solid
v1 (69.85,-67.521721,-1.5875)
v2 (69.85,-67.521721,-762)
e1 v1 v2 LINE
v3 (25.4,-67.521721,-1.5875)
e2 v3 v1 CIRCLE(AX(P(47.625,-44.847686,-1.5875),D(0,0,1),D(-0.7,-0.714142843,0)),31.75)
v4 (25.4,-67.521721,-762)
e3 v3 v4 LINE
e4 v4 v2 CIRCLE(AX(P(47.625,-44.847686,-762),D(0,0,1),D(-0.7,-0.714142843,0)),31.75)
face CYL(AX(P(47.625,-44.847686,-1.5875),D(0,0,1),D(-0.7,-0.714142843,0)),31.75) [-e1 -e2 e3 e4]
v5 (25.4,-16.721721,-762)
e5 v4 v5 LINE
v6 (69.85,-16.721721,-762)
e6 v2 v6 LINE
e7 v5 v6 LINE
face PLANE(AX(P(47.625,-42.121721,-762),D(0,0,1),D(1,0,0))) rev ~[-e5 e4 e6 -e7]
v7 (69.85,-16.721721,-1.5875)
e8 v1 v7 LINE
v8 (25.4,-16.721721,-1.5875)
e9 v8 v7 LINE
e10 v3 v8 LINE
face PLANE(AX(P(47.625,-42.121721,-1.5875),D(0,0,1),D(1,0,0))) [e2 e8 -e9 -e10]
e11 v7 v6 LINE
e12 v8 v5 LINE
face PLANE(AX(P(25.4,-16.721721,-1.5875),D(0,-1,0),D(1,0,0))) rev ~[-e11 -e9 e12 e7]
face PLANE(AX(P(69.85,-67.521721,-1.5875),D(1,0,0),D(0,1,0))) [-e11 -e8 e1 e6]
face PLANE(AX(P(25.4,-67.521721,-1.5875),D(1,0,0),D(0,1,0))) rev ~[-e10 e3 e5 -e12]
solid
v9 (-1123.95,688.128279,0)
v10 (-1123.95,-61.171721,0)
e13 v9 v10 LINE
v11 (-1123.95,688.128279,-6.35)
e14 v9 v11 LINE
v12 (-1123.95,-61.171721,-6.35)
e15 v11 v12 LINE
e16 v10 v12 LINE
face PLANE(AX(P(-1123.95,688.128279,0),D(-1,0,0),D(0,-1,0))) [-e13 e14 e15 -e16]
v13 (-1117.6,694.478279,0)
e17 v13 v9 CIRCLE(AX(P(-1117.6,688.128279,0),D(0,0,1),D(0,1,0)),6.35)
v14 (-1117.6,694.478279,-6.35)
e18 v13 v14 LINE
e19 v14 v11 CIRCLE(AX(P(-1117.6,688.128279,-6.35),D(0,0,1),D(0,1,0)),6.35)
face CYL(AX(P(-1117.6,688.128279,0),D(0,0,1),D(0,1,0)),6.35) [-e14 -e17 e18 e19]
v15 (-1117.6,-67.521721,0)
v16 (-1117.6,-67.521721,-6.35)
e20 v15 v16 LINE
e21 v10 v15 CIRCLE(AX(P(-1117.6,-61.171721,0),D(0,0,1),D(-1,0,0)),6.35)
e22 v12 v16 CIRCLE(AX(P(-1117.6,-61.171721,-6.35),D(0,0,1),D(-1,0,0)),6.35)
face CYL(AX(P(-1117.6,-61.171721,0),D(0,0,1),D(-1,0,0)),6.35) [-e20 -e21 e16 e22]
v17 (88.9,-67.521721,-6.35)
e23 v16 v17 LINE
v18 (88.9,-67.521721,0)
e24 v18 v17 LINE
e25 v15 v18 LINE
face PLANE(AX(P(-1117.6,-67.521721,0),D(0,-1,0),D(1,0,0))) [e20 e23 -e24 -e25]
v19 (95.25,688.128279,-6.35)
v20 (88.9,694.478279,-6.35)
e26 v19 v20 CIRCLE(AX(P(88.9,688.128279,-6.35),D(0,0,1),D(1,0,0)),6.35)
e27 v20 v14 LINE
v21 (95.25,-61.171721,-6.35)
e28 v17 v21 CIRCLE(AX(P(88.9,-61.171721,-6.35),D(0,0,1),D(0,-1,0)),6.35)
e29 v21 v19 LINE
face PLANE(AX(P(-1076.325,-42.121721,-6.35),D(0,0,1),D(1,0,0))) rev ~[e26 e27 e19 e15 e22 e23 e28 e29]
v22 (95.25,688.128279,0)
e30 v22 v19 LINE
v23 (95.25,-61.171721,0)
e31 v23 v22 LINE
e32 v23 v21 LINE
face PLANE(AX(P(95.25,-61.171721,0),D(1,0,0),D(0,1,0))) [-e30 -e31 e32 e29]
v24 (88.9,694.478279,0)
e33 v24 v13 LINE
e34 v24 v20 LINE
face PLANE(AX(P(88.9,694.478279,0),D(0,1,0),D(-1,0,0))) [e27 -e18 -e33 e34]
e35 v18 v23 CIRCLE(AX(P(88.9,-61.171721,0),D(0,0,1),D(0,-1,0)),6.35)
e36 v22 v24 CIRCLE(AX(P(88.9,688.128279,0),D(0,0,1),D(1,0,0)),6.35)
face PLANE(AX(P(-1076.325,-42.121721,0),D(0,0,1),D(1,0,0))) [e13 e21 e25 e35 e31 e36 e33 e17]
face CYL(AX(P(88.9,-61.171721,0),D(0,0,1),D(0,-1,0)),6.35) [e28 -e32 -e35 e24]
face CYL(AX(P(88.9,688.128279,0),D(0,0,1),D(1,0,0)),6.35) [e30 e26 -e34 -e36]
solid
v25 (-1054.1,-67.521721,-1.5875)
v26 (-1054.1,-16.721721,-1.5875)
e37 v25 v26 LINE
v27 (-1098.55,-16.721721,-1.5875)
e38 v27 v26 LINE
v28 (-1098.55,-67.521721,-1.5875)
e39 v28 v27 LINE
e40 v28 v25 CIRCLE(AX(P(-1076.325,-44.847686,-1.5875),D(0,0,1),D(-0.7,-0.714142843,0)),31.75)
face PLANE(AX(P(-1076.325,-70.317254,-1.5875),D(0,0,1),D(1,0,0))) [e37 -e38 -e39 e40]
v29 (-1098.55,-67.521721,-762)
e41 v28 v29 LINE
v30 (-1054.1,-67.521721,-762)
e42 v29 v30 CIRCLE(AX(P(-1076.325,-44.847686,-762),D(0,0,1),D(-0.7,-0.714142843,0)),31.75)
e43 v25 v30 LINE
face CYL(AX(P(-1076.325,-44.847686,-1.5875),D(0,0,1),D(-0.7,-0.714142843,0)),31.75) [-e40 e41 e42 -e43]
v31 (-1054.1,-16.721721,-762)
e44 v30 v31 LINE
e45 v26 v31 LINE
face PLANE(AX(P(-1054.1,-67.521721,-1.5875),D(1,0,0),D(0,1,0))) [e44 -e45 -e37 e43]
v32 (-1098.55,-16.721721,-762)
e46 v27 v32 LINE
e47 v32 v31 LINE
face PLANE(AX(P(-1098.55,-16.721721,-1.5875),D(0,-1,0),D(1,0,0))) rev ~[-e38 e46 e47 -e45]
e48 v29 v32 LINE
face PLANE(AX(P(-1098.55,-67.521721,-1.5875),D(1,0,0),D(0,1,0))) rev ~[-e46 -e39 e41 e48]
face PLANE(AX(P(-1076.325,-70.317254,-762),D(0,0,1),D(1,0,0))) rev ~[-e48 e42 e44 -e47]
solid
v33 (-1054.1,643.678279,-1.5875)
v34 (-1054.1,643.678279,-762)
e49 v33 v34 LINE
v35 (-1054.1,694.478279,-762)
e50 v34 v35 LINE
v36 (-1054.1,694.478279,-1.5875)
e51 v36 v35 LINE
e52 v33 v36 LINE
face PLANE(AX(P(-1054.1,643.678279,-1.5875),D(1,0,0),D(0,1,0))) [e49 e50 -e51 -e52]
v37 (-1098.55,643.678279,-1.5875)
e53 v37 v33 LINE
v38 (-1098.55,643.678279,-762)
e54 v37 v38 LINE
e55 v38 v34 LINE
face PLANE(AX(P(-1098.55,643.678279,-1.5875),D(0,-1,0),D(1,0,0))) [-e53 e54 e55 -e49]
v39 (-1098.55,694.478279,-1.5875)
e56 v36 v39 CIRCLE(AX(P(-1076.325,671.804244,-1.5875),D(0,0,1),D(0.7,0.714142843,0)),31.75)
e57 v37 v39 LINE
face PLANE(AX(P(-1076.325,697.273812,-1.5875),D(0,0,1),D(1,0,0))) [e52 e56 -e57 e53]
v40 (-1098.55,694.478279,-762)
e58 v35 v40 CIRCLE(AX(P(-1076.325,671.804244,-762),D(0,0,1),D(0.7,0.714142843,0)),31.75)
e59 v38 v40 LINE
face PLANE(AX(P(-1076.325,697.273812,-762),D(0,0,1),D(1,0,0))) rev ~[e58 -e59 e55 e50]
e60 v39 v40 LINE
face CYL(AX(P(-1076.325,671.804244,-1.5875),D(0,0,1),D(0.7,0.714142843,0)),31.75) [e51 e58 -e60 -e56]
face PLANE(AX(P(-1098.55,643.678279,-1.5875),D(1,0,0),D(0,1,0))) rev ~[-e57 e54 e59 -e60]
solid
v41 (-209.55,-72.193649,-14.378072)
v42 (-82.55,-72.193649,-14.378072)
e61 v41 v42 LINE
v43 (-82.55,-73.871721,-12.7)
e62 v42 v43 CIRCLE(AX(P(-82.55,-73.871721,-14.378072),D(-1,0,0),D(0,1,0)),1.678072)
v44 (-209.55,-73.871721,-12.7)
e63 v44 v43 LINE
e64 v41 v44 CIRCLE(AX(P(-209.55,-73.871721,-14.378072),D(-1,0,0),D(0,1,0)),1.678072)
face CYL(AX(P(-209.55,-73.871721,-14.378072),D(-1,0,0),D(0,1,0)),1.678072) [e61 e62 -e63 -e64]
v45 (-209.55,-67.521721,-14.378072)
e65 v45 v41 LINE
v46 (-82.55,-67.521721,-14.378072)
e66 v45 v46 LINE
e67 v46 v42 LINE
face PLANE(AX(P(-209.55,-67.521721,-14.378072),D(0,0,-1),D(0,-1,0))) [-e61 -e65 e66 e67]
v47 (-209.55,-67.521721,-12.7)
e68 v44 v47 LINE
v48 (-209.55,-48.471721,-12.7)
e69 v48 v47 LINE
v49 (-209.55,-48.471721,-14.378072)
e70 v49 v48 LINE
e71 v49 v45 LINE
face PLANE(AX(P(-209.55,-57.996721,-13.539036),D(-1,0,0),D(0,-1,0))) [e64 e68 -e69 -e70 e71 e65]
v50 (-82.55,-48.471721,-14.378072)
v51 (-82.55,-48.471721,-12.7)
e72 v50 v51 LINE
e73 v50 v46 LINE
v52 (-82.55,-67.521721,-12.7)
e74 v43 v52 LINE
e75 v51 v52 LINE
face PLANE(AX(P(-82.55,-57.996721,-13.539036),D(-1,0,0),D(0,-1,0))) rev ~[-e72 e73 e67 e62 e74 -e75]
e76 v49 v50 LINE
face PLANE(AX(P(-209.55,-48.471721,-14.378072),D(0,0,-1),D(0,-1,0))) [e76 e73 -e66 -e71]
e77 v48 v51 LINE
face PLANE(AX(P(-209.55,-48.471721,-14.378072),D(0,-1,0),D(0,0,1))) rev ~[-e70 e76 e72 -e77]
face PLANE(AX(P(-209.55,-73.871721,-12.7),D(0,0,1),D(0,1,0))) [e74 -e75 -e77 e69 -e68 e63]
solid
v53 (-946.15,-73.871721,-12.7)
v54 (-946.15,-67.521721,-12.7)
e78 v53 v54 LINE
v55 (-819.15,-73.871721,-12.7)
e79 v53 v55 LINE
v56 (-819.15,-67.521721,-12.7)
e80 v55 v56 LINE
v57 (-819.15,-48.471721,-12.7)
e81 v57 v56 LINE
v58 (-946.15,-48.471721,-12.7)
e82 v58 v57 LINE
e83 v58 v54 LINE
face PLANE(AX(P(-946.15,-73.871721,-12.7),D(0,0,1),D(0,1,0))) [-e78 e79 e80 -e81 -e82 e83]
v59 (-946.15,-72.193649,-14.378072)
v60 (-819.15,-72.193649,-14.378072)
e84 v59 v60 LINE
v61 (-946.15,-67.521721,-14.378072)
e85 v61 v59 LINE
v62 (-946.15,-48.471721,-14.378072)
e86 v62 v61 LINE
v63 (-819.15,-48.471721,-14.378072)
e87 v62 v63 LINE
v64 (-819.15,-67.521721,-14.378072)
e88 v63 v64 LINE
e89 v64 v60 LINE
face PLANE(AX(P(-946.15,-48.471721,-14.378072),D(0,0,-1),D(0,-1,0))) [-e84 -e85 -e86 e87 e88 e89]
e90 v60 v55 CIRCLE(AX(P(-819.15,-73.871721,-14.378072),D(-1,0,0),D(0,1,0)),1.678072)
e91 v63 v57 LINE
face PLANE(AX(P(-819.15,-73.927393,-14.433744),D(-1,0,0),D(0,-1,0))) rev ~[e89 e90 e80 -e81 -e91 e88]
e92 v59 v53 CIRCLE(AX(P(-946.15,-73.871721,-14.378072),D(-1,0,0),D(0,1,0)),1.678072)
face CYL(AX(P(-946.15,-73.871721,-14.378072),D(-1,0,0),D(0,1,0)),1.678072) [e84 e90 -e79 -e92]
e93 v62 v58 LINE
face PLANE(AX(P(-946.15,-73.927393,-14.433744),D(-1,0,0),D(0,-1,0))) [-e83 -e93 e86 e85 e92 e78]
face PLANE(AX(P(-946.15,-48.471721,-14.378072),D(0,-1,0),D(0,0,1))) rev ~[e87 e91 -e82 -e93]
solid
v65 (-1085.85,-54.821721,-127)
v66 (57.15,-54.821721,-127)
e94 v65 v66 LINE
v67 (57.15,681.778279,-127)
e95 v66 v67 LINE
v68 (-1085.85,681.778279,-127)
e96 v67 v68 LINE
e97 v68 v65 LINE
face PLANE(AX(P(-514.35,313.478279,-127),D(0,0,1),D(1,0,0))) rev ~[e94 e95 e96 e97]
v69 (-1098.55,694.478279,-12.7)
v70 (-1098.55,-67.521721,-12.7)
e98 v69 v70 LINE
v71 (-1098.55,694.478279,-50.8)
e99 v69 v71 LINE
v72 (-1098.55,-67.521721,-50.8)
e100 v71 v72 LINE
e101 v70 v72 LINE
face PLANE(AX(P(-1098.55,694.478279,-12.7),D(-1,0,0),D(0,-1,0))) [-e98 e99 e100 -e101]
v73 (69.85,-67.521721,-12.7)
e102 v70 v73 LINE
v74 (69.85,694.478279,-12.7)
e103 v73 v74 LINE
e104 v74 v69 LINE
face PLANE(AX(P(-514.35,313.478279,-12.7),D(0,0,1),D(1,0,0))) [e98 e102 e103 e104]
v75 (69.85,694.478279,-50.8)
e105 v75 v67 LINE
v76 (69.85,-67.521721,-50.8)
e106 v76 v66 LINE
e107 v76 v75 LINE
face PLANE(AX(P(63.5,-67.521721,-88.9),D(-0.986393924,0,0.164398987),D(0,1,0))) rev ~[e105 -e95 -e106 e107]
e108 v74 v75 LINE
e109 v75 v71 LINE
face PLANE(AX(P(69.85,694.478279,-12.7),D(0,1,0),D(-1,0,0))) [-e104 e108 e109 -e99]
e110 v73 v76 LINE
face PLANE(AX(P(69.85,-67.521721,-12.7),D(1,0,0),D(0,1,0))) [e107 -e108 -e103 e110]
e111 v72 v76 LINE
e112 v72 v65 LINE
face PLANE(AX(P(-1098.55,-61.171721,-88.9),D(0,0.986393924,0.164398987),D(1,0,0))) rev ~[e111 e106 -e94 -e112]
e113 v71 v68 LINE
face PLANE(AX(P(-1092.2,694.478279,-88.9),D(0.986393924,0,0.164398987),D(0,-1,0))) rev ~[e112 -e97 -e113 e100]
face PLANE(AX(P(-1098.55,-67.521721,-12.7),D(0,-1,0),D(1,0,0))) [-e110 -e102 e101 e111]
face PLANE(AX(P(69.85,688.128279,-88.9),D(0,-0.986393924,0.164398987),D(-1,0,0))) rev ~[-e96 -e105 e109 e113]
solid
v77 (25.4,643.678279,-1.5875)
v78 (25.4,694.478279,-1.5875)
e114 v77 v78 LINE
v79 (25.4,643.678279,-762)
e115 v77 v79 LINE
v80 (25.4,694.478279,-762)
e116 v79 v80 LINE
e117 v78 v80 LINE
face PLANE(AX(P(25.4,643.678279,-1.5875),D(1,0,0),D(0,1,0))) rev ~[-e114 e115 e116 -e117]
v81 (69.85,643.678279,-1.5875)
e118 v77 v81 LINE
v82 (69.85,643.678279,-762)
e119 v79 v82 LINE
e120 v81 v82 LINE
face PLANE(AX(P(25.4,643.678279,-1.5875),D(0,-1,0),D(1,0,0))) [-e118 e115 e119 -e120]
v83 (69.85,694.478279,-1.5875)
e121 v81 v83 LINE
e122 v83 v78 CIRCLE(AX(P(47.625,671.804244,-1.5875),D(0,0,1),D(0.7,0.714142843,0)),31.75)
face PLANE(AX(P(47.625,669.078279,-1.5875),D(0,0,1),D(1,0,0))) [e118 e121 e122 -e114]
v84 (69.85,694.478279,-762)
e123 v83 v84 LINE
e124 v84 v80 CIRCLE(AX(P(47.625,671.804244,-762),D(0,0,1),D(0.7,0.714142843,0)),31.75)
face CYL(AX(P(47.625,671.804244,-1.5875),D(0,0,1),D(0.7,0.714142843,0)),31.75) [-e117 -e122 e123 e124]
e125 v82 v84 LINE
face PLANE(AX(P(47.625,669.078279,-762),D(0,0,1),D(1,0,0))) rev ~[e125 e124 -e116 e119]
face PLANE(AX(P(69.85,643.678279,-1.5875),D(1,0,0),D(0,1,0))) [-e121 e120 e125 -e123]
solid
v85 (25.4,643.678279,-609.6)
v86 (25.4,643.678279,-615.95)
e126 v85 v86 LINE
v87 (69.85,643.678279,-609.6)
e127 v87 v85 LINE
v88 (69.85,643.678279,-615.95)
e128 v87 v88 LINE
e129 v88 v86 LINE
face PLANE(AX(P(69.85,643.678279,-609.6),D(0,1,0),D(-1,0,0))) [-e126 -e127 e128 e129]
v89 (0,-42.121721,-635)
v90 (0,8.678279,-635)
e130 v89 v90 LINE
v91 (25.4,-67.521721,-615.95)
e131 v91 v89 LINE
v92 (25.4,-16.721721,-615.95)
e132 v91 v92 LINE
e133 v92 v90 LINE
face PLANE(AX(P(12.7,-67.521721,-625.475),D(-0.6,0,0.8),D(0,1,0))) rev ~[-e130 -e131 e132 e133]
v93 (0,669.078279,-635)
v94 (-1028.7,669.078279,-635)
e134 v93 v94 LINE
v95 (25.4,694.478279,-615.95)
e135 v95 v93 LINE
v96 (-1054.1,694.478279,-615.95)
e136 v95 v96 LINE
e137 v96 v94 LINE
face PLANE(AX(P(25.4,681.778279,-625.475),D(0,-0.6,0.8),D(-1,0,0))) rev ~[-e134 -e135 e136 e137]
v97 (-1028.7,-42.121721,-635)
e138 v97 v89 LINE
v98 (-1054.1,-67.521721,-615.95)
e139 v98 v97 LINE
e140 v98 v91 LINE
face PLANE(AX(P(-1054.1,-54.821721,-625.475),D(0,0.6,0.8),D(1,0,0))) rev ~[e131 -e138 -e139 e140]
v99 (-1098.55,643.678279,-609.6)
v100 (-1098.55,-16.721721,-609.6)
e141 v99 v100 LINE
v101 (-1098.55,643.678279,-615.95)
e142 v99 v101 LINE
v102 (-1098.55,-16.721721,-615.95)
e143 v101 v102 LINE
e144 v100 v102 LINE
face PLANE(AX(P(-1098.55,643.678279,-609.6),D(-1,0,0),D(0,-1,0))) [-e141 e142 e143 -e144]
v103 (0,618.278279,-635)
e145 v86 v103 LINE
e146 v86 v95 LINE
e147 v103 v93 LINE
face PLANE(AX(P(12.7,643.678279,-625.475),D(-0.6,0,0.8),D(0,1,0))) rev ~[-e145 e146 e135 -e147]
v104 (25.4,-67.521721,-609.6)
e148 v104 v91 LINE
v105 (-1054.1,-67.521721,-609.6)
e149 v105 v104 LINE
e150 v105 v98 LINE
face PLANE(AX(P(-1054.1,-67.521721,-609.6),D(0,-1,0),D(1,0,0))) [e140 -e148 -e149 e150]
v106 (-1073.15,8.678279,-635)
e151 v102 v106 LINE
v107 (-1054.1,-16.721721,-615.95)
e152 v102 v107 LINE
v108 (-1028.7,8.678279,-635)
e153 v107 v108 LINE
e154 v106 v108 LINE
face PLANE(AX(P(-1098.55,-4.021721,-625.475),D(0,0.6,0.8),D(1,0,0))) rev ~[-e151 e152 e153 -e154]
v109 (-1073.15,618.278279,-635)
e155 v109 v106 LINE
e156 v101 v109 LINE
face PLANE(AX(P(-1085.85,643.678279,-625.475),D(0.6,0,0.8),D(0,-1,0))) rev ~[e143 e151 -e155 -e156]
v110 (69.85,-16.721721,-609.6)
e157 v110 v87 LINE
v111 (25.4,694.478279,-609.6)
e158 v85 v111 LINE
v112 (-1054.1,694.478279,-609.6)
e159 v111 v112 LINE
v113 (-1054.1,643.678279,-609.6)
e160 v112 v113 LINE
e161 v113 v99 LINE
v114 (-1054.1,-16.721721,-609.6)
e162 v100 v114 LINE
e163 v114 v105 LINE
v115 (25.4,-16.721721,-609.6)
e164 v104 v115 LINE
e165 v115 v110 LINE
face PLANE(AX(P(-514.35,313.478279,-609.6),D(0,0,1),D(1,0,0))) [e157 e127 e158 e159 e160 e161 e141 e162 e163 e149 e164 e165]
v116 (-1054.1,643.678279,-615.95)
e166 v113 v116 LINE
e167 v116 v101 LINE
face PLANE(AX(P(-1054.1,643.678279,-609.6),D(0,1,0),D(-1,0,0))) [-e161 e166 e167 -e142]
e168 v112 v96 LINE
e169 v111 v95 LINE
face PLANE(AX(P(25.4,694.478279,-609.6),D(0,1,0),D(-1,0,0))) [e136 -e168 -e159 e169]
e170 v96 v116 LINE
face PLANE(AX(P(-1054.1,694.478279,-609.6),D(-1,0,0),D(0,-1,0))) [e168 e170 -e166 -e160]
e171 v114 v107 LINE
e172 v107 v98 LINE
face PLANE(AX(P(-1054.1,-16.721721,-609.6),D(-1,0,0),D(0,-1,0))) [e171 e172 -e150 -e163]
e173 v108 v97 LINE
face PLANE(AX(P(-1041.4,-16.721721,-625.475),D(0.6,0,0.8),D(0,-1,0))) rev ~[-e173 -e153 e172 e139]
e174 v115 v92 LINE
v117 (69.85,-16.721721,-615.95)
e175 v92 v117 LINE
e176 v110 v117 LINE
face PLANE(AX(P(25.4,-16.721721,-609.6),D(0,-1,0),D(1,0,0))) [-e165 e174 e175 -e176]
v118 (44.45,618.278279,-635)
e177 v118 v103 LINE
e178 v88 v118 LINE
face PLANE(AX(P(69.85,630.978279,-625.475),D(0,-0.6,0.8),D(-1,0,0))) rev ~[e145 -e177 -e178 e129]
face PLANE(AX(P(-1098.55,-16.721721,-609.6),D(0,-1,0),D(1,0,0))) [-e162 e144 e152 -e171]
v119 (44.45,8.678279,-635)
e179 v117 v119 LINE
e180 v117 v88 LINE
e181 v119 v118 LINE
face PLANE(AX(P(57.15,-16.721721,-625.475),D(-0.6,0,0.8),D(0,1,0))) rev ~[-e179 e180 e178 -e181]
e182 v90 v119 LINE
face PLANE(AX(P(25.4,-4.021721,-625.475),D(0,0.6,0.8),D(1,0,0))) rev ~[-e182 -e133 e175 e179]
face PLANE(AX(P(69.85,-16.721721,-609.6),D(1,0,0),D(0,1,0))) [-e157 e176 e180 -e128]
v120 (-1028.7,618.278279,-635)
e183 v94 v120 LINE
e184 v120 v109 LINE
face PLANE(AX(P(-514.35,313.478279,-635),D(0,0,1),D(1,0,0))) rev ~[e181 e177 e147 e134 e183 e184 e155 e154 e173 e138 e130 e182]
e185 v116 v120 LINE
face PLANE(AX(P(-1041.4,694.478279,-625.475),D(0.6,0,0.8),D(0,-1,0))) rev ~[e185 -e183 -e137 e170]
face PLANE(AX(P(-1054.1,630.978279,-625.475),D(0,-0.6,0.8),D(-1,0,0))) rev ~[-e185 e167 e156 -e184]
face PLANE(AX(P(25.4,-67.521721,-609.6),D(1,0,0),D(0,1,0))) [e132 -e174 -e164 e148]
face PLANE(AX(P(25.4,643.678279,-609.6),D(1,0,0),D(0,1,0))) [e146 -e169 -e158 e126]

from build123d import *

# Parameters (mm, degrees)
F0_W     = 44.45
F0_H     = 50.8
F1_DEPTH = 6.35
F2_START = -1.5875
F2_DEPTH = 760.4125
F3_START = -12.7
F3_DEPTH = 114.3
F5_START = -152.4
F4_W     = 19.05
F4_H     = 1.6780719161
F5_DEPTH = 127
F6_START = -889
F6_DEPTH = 127
F7_SIZE2 = 12.7
F7_SIZE  = 76.2
F8_START = -609.6
F8_DEPTH = 25.4
F9_SIZE2 = 25.4
F9_SIZE  = 19.05


with BuildPart() as f1:
    # F0 (on Top) → F1 (new body)
    with BuildSketch(Plane.XY):
        with Locations((-1076.325, -42.1217211246)):
            Rectangle(F0_W, F0_H)
        with BuildLine():
            Line((-1098.55, 694.4782788754), (-1117.6, 694.4782788754))
            ThreePointArc((-1117.6, 694.4782788754), (-1122.0901280605, 692.6184069359), (-1123.95, 688.1282788754))
            Line((-1123.95, 688.1282788754), (-1123.95, -61.1717211246))
            ThreePointArc((-1123.95, -61.1717211246), (-1122.0901280605, -65.6618491852), (-1117.6, -67.5217211246))
            Line((-1117.6, -67.5217211246), (-1098.55, -67.5217211246))
            Line((-1098.55, -67.5217211246), (-1098.55, -16.7217211246))
            Line((-1098.55, -16.7217211246), (-1098.55, 643.6782788754))
            Line((-1098.55, 643.6782788754), (-1098.55, 694.4782788754))
        make_face()
        with Locations((-1076.325, 669.0782788754)):
            Rectangle(F0_W, F0_H)
        with Locations((47.625, 669.0782788754)):
            Rectangle(F0_W, F0_H)
        with Locations((47.625, -42.1217211246)):
            Rectangle(F0_W, F0_H)
        Polygon((25.4, 694.4782788754), (-1054.1, 694.4782788754), (-1054.1, 643.6782788754), (-1098.55, 643.6782788754), (-1098.55, -16.7217211246), (-1054.1, -16.7217211246), (-1054.1, -67.5217211246), (25.4, -67.5217211246), (25.4, -16.7217211246), (69.85, -16.7217211246), (69.85, 643.6782788754), (25.4, 643.6782788754), align=None)
        with BuildLine():
            Line((88.9, 694.4782788754), (69.85, 694.4782788754))
            Line((69.85, 694.4782788754), (69.85, 643.6782788754))
            Line((69.85, 643.6782788754), (69.85, -16.7217211246))
            Line((69.85, -16.7217211246), (69.85, -67.5217211246))
            Line((69.85, -67.5217211246), (88.9, -67.5217211246))
            ThreePointArc((88.9, -67.5217211246), (93.3901280605, -65.6618491852), (95.25, -61.1717211246))
            Line((95.25, -61.1717211246), (95.25, 688.1282788754))
            ThreePointArc((95.25, 688.1282788754), (93.3901280605, 692.6184069359), (88.9, 694.4782788754))
        make_face()
    extrude(amount=-F1_DEPTH)


with BuildPart() as f2:
    # F0 (on Top) → F2 (new body)
    with BuildSketch(Plane.XY.offset(F2_START)):
        with BuildLine():
            Line((-1054.1, -67.5217211246), (-1098.55, -67.5217211246))
            ThreePointArc((-1098.55, -67.5217211246), (-1076.325, -76.597685864), (-1054.1, -67.5217211246))
        make_face()
        with Locations((-1076.325, -42.1217211246)):
            Rectangle(F0_W, F0_H)
    extrude(amount=-F2_DEPTH)


with BuildPart() as f2b:
    # F0 (on Top) → F2, piece 2 (new body)
    with BuildSketch(Plane.XY.offset(F2_START)):
        with BuildLine():
            ThreePointArc((-1054.1, 694.4782788754), (-1076.325, 703.5542436147), (-1098.55, 694.4782788754))
            Line((-1098.55, 694.4782788754), (-1054.1, 694.4782788754))
        make_face()
        with Locations((-1076.325, 669.0782788754)):
            Rectangle(F0_W, F0_H)
    extrude(amount=-F2_DEPTH)


with BuildPart() as f2c:
    # F0 (on Top) → F2, piece 3 (new body)
    with BuildSketch(Plane.XY.offset(F2_START)):
        with Locations((47.625, -42.1217211246)):
            Rectangle(F0_W, F0_H)
        with BuildLine():
            Line((69.85, -67.5217211246), (25.4, -67.5217211246))
            ThreePointArc((25.4, -67.5217211246), (47.625, -76.597685864), (69.85, -67.5217211246))
        make_face()
    extrude(amount=-F2_DEPTH)


with BuildPart() as f2d:
    # F0 (on Top) → F2, piece 4 (new body)
    with BuildSketch(Plane.XY.offset(F2_START)):
        with Locations((47.625, 669.0782788754)):
            Rectangle(F0_W, F0_H)
        with BuildLine():
            ThreePointArc((69.85, 694.4782788754), (47.625, 703.5542436147), (25.4, 694.4782788754))
            Line((25.4, 694.4782788754), (69.85, 694.4782788754))
        make_face()
    extrude(amount=-F2_DEPTH)


with BuildPart() as f3:
    # F0 (on Top) → F3 (new body)
    with BuildSketch(Plane.XY.offset(F3_START)):
        Polygon((25.4, 694.4782788754), (-1054.1, 694.4782788754), (-1054.1, 643.6782788754), (-1098.55, 643.6782788754), (-1098.55, -16.7217211246), (-1054.1, -16.7217211246), (-1054.1, -67.5217211246), (25.4, -67.5217211246), (25.4, -16.7217211246), (69.85, -16.7217211246), (69.85, 643.6782788754), (25.4, 643.6782788754), align=None)
        with Locations((-1076.325, -42.1217211246)):
            Rectangle(F0_W, F0_H)
        with Locations((-1076.325, 669.0782788754)):
            Rectangle(F0_W, F0_H)
        with Locations((47.625, 669.0782788754)):
            Rectangle(F0_W, F0_H)
        with Locations((47.625, -42.1217211246)):
            Rectangle(F0_W, F0_H)
    extrude(amount=-F3_DEPTH)

    # F7
    f7_edges = [f3.edges().sort_by_distance(p)[0] for p in [
        (-1098.55, 313.478279, -127),
        (-514.35, -67.521721, -127),
        (69.85, 313.478279, -127),
        (-514.35, 694.478279, -127),
    ]]
    chamfer(f7_edges, length=F7_SIZE, length2=F7_SIZE2)


with BuildPart() as f5:
    # F4 (on face) → F5 (new body)
    with BuildSketch(Plane(origin=(-1098.55, 0, 0), x_dir=(0, -1, 0), z_dir=(-1, 0, 0)).offset(F5_START)):
        with BuildLine():
            ThreePointArc((72.1936492085, -14.3780719161), (75.0582971558, -15.5646479473), (73.8717211246, -12.7))
            Line((73.8717211246, -12.7), (73.8717211246, -14.3780719161))
            Line((73.8717211246, -14.3780719161), (72.1936492085, -14.3780719161))
        make_face()
        Polygon((73.8717211246, -12.7), (67.5217211246, -12.7), (67.5217211246, -14.3780719161), (72.1936492085, -14.3780719161), (73.8717211246, -14.3780719161), align=None)
        with Locations((57.9967211246, -13.5390359581)):
            Rectangle(F4_W, F4_H)
    extrude(amount=-F5_DEPTH)


with BuildPart() as f6:
    # F4 (on face) → F6 (new body)
    with BuildSketch(Plane(origin=(-1098.55, 0, 0), x_dir=(0, -1, 0), z_dir=(-1, 0, 0)).offset(F6_START)):
        with Locations((57.9967211246, -13.5390359581)):
            Rectangle(F4_W, F4_H)
        Polygon((73.8717211246, -12.7), (67.5217211246, -12.7), (67.5217211246, -14.3780719161), (72.1936492085, -14.3780719161), (73.8717211246, -14.3780719161), align=None)
        with BuildLine():
            ThreePointArc((72.1936492085, -14.3780719161), (75.0582971558, -15.5646479473), (73.8717211246, -12.7))
            Line((73.8717211246, -12.7), (73.8717211246, -14.3780719161))
            Line((73.8717211246, -14.3780719161), (72.1936492085, -14.3780719161))
        make_face()
    extrude(amount=-F6_DEPTH)


with BuildPart() as f8:
    # F0 (on Top) → F8 (new body)
    with BuildSketch(Plane.XY.offset(F8_START)):
        Polygon((25.4, 694.4782788754), (-1054.1, 694.4782788754), (-1054.1, 643.6782788754), (-1098.55, 643.6782788754), (-1098.55, -16.7217211246), (-1054.1, -16.7217211246), (-1054.1, -67.5217211246), (25.4, -67.5217211246), (25.4, -16.7217211246), (69.85, -16.7217211246), (69.85, 643.6782788754), (25.4, 643.6782788754), align=None)
    extrude(amount=-F8_DEPTH)

    # F9
    f9_edges = [f8.edges().sort_by_distance(p)[0] for p in [
        (-514.35, 694.478279, -635),
        (-1054.1, 669.078279, -635),
        (-1076.325, 643.678279, -635),
        (-1098.55, 313.478279, -635),
        (-1076.325, -16.721721, -635),
        (-1054.1, -42.121721, -635),
        (-514.35, -67.521721, -635),
        (25.4, -42.121721, -635),
        (47.625, -16.721721, -635),
        (69.85, 313.478279, -635),
        (47.625, 643.678279, -635),
        (25.4, 669.078279, -635),
    ]]
    chamfer(f9_edges, length=F9_SIZE, length2=F9_SIZE2)


solid = Compound([f1.part, f2.part, f2b.part, f2c.part, f2d.part, f3.part, f5.part, f6.part, f8.part])
